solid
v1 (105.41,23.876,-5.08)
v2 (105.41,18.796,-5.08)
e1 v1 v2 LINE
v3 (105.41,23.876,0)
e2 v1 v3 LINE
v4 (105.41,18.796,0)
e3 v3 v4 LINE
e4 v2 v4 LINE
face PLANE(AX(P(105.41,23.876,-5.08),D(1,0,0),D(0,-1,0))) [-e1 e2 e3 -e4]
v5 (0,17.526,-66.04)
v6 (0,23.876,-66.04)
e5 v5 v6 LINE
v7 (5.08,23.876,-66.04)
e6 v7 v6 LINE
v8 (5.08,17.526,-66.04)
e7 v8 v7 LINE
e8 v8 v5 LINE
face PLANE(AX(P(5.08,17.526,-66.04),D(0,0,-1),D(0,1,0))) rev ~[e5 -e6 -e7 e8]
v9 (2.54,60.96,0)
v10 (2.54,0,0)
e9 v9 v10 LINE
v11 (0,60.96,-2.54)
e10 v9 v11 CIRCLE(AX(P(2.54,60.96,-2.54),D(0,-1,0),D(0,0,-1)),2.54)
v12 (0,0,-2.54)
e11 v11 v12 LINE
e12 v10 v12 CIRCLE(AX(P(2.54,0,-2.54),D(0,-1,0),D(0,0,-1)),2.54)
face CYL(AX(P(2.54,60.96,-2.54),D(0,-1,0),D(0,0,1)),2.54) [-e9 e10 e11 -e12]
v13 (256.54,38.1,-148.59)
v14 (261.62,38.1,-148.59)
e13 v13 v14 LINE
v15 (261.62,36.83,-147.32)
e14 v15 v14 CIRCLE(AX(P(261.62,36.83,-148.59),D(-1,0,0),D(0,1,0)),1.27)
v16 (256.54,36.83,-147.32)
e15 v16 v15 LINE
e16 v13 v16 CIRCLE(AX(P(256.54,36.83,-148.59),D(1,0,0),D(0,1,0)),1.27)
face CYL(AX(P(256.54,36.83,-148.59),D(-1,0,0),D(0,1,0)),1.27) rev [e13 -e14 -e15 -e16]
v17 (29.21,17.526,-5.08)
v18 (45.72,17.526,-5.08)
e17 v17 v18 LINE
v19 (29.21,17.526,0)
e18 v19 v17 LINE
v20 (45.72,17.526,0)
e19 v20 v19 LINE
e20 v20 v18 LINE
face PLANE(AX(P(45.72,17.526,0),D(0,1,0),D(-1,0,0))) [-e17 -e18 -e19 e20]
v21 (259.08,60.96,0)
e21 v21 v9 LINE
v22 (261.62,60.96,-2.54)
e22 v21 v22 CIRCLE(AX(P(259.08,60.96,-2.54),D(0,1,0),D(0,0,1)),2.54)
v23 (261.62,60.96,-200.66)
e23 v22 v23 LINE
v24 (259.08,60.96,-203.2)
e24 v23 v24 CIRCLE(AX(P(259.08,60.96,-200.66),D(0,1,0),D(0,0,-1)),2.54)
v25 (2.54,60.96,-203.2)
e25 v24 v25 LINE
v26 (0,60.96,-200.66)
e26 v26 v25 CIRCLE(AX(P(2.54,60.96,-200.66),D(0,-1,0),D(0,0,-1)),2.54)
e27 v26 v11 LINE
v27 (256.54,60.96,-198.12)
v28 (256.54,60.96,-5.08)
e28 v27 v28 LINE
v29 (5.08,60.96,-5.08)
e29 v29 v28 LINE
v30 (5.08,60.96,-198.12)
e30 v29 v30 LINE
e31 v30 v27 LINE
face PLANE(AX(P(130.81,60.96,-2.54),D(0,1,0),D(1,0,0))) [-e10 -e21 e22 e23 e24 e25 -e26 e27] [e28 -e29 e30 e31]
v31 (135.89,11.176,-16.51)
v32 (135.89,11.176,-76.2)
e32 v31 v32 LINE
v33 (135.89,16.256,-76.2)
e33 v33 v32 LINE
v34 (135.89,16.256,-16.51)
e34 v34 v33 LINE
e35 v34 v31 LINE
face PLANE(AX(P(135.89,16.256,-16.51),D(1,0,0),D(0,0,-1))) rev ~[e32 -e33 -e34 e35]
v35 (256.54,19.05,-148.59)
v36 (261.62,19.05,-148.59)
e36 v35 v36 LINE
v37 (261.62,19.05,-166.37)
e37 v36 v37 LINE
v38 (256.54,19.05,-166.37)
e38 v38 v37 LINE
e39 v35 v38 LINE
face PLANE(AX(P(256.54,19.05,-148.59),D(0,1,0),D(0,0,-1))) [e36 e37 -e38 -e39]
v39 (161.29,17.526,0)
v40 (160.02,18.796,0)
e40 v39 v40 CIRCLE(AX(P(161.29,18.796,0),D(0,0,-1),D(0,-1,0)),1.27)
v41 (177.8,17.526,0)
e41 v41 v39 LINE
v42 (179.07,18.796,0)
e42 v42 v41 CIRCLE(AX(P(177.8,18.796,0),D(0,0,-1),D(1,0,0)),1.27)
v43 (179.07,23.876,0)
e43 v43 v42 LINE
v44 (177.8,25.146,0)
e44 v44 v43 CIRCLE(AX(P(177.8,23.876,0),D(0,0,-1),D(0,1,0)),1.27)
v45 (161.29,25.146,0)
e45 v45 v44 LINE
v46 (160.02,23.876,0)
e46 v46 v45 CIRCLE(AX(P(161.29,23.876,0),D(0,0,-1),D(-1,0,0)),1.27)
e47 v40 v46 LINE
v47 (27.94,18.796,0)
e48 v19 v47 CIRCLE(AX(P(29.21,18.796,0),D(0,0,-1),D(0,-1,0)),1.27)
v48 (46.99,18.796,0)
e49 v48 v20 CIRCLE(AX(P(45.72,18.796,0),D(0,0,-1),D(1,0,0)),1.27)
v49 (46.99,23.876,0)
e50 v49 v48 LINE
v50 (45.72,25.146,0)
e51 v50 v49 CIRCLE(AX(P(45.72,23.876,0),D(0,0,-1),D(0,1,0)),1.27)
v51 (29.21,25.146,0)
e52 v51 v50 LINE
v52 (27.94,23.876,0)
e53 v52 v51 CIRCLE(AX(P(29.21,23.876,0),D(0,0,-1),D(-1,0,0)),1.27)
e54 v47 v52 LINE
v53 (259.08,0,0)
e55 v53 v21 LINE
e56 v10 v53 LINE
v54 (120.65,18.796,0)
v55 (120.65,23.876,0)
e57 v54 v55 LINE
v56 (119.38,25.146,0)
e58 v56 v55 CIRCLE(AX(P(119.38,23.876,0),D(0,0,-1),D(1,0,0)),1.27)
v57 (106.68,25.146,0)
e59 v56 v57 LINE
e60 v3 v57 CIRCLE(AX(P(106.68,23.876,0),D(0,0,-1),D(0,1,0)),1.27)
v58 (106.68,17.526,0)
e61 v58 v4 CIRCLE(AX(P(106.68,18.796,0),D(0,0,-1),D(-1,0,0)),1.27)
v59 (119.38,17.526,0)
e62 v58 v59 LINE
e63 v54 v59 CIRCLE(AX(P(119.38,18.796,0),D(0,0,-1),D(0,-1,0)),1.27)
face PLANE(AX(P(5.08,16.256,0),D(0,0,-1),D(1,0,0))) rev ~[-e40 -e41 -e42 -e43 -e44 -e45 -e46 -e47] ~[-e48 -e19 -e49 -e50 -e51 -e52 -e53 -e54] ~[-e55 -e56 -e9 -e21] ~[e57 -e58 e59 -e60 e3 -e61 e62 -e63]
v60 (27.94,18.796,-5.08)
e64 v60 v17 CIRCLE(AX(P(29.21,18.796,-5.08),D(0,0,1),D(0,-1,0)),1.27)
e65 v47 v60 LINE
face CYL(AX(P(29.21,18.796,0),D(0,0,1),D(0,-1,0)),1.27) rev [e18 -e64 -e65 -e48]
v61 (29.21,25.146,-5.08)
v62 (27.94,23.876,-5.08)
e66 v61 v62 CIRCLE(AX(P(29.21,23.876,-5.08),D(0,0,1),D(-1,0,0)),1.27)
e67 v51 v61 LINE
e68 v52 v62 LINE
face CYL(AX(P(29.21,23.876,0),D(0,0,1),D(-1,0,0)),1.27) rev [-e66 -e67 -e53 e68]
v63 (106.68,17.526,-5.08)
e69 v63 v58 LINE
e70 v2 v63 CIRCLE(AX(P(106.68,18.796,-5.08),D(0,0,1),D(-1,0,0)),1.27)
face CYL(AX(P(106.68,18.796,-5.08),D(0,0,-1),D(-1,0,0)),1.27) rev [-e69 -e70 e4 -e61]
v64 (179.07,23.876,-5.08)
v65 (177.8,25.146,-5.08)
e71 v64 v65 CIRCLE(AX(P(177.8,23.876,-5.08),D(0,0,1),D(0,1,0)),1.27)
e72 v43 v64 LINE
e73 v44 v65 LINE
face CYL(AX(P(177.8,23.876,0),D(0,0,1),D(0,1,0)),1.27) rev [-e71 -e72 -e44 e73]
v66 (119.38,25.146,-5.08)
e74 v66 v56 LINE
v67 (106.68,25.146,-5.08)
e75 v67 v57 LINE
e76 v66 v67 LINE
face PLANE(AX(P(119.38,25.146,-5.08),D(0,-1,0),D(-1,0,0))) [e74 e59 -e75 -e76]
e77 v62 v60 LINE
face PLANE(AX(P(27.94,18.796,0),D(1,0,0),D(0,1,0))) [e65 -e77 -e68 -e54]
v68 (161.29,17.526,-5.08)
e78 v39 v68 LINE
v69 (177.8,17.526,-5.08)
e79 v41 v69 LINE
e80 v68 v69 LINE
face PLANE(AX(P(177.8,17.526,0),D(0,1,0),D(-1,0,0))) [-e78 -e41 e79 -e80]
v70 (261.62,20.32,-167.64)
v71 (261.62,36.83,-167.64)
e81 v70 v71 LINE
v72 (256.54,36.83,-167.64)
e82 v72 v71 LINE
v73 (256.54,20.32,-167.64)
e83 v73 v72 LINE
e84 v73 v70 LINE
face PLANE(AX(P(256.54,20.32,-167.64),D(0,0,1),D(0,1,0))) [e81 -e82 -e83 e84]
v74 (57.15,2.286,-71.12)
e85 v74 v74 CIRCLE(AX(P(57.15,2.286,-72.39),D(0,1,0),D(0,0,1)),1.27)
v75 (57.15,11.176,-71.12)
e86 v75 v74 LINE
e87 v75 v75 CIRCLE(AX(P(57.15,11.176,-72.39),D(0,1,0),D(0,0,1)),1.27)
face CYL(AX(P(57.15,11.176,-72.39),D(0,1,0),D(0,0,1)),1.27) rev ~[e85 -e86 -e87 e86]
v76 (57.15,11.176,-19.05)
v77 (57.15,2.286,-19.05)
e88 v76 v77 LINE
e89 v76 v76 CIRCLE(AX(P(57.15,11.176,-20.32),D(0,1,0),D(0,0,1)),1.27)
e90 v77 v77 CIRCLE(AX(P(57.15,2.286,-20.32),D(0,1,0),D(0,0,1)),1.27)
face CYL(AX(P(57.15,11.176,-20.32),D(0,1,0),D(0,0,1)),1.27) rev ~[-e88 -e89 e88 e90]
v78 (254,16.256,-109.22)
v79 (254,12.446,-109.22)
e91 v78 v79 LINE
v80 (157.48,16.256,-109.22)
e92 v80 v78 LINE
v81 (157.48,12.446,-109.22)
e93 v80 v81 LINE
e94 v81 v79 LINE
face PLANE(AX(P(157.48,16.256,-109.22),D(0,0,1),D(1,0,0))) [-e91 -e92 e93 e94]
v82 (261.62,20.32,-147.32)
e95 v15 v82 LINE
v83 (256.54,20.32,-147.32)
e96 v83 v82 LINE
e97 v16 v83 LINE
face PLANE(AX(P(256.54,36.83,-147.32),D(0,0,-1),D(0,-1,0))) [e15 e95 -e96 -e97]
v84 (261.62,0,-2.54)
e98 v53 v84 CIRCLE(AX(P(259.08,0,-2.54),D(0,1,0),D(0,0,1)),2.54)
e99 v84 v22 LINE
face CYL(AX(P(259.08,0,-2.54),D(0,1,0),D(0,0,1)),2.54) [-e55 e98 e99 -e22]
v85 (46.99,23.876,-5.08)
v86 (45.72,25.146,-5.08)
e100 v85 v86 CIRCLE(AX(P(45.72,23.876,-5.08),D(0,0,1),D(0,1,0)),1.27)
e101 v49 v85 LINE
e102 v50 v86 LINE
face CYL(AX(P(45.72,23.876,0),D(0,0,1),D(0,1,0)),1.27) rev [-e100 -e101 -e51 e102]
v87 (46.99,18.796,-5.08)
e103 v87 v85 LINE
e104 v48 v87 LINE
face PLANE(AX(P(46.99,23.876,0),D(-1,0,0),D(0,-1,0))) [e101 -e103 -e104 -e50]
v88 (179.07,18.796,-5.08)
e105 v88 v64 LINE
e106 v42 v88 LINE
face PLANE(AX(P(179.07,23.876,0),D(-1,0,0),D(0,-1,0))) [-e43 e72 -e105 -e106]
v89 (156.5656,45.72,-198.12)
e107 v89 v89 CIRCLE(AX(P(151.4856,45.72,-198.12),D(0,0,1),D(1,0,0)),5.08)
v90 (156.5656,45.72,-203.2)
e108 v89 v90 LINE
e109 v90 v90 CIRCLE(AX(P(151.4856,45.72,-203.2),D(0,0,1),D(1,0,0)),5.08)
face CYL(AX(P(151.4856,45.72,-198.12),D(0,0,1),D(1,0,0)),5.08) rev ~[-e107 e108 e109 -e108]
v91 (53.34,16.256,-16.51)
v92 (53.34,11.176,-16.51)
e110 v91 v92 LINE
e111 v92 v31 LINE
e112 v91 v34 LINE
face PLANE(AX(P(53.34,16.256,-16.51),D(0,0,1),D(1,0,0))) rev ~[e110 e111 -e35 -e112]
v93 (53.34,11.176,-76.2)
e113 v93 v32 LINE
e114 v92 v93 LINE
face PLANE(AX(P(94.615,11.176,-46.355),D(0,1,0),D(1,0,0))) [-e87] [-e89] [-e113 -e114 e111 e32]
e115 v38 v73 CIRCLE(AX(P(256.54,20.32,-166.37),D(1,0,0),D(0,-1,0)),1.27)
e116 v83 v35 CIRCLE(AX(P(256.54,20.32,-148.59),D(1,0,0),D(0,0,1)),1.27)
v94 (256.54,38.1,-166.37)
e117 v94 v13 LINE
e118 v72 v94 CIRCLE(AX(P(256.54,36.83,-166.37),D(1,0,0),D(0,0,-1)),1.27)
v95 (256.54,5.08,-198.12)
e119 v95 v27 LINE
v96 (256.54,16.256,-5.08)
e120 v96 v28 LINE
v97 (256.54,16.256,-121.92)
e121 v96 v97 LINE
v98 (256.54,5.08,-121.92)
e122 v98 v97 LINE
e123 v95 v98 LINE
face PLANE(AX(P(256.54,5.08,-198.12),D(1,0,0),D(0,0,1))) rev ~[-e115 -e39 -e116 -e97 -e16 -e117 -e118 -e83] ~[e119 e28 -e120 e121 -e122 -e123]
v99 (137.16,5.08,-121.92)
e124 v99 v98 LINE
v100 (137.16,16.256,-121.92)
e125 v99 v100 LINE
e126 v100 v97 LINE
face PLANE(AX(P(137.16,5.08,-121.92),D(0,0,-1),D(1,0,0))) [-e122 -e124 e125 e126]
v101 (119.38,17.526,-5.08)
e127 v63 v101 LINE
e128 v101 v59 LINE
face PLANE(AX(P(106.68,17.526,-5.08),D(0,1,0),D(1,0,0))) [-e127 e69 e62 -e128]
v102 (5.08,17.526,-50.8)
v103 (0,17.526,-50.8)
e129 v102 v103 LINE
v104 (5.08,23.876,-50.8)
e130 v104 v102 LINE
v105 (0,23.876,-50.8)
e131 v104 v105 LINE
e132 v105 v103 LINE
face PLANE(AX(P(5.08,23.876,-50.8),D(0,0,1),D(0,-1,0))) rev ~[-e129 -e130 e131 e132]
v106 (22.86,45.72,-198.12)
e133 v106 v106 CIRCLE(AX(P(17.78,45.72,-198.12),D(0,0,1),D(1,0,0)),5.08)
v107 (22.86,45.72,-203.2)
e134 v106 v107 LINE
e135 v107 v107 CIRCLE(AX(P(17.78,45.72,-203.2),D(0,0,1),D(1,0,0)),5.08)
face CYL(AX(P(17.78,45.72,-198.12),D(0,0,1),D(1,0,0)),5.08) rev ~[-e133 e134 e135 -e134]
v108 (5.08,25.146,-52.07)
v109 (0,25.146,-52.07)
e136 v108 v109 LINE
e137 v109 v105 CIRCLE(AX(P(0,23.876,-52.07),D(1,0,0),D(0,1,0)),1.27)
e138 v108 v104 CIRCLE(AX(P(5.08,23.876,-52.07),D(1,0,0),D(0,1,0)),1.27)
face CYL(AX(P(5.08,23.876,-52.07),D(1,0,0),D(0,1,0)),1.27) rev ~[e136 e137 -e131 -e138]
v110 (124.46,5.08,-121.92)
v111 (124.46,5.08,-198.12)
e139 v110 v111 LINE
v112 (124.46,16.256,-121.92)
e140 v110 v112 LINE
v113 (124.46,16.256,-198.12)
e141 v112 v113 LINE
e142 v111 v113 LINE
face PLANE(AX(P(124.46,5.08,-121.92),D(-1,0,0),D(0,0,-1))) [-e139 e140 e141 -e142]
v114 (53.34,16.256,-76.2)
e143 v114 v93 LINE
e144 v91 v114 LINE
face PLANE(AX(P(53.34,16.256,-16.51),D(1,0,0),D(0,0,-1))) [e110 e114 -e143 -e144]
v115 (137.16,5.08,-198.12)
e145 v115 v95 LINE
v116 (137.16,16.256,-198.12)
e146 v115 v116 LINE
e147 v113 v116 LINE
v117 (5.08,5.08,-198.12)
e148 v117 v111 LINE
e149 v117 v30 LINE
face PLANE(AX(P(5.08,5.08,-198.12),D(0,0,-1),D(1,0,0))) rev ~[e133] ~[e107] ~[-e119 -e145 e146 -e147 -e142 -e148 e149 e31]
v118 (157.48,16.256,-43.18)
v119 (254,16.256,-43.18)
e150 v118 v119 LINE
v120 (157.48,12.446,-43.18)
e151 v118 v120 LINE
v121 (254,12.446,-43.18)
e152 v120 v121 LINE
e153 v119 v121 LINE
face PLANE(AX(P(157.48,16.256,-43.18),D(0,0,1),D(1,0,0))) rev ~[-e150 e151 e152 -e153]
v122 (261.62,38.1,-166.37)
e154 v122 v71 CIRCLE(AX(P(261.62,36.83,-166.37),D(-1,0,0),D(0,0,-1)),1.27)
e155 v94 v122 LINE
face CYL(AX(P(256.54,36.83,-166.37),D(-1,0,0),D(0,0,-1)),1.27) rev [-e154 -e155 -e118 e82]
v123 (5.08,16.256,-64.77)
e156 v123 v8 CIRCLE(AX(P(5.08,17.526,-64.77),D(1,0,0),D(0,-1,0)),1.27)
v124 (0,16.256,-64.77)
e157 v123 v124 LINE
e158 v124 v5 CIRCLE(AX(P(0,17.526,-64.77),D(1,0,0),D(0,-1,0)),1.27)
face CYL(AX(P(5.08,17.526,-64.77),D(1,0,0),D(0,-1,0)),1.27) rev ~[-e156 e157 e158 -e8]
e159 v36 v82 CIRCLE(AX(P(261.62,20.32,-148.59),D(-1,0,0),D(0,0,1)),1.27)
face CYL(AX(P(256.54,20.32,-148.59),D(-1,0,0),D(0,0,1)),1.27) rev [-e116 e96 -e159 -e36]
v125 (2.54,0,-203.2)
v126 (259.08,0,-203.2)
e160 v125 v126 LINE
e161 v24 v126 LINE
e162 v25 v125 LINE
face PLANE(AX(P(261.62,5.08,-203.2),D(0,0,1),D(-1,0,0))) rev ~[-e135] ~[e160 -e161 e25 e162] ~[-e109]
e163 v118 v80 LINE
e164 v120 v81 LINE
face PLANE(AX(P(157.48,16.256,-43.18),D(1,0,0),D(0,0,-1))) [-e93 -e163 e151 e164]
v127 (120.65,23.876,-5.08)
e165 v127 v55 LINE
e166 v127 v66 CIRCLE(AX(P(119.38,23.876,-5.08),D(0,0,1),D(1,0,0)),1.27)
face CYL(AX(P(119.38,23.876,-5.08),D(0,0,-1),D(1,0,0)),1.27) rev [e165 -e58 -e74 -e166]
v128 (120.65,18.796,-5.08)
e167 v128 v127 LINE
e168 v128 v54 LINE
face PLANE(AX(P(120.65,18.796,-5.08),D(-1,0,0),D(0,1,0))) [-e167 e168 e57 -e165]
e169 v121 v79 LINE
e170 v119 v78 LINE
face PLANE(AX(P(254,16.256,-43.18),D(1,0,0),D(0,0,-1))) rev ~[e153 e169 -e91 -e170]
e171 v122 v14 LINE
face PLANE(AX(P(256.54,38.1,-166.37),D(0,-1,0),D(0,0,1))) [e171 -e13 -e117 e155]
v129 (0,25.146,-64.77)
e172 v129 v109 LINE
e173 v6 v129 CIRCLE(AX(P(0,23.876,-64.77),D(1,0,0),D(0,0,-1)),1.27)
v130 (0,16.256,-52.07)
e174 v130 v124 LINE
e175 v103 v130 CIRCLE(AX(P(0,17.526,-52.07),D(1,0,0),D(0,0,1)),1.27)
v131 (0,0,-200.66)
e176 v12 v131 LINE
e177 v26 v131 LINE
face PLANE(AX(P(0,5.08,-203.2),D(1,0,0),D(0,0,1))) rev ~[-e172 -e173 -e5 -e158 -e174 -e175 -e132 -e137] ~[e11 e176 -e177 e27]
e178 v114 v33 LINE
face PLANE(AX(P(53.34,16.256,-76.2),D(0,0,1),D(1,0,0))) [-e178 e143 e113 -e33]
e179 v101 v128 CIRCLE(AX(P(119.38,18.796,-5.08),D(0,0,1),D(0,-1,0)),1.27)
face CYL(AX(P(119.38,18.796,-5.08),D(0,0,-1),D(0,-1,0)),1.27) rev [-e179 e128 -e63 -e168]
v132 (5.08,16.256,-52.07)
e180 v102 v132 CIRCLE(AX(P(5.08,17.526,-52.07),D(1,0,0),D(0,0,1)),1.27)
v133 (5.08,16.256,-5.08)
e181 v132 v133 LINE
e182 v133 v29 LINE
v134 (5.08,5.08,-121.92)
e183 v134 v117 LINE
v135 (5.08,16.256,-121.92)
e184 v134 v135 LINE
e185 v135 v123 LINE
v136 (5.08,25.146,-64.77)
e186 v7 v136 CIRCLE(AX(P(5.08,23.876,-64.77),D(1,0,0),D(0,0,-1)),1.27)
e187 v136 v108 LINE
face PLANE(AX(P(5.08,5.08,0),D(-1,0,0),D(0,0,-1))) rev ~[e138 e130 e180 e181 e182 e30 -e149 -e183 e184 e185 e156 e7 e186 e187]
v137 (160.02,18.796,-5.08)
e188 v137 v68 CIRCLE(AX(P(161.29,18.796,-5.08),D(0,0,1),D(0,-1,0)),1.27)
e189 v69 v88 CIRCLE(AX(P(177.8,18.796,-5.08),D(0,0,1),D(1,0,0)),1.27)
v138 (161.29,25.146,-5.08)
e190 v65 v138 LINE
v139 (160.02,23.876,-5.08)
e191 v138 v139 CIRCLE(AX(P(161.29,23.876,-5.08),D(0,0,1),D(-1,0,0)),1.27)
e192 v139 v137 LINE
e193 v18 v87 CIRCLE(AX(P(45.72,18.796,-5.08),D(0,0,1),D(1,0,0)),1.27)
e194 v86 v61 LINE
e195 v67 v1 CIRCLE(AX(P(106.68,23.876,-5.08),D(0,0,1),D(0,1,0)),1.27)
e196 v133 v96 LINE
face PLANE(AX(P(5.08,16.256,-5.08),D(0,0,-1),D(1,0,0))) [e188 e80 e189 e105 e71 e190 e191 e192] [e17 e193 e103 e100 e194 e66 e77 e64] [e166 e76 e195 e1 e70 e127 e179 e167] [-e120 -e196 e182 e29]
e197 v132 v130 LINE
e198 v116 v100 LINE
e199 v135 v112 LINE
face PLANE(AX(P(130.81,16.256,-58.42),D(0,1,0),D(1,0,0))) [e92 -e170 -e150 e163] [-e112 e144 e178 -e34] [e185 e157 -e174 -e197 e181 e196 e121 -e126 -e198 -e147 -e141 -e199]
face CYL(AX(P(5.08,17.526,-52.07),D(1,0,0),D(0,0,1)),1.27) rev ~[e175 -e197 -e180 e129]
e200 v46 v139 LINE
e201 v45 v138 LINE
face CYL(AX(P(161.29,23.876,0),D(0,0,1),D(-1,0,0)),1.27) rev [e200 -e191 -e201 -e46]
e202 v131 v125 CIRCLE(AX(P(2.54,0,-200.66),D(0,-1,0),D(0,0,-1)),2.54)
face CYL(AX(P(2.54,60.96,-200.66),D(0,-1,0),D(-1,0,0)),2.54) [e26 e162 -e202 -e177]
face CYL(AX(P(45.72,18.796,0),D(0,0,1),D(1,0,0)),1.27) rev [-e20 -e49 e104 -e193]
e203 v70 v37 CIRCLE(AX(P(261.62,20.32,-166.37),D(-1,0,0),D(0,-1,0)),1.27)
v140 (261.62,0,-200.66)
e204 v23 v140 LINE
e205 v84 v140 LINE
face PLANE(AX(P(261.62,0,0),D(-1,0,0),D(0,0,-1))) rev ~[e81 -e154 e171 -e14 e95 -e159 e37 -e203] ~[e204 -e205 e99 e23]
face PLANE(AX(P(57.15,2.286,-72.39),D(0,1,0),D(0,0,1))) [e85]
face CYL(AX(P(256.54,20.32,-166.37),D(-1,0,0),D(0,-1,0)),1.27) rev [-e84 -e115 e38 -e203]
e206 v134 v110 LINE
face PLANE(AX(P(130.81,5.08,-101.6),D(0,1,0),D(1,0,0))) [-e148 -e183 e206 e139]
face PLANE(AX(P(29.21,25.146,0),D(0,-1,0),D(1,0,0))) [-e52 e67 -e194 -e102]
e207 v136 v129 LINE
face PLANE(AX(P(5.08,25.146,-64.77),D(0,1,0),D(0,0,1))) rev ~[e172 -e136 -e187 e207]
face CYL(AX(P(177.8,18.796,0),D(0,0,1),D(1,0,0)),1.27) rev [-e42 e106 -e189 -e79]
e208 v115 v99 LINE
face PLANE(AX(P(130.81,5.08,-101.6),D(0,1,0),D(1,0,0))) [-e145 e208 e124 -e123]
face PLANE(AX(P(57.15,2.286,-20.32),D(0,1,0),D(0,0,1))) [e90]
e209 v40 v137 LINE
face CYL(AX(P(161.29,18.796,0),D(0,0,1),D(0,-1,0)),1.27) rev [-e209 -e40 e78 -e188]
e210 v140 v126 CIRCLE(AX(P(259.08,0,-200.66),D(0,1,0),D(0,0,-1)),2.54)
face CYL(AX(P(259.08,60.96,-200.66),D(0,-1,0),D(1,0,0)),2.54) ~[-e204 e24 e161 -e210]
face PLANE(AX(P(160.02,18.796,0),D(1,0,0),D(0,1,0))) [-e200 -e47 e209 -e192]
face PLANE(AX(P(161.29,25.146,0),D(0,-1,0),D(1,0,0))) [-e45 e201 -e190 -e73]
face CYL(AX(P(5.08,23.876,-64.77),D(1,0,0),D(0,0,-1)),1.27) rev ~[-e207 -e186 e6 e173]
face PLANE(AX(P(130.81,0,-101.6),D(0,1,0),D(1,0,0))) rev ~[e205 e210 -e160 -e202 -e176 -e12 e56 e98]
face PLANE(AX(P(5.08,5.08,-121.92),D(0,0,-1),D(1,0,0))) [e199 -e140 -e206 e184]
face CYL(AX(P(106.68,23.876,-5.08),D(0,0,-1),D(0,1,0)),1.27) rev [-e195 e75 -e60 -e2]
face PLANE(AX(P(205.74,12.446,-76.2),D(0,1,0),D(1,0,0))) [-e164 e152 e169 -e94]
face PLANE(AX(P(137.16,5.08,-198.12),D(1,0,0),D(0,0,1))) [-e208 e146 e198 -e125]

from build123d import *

# Parameters (mm, degrees)
SKETCH1_W           = 261.62
SKETCH1_H           = 203.2
BOSS_EXTRUDE1_DEPTH = 5.08
BOSS_EXTRUDE3_DEPTH = 55.88
BOSS_EXTRUDE4_DEPTH = 11.176
SKETCH7_W           = 251.46
SKETCH7_H           = 116.84
BOSS_EXTRUDE5_DEPTH = 11.176
SKETCH8_R           = 5.08
CUT_EXTRUDE2_DEPTH  = 11.176
CUT_EXTRUDE3_DEPTH  = 11.176
SKETCH10_W          = 82.55
SKETCH10_H          = 59.69
CUT_EXTRUDE4_DEPTH  = 5.08
SKETCH12_R          = 1.27
CUT_EXTRUDE5_DEPTH  = 8.89
SKETCH13_W          = 96.52
SKETCH13_H          = 66.04
CUT_EXTRUDE6_DEPTH  = 3.81
SKETCH14_W          = 251.46
SKETCH14_H          = 5.08
BOSS_EXTRUDE6_DEPTH = 44.704
CUT_EXTRUDE7_DEPTH  = 39.624
CUT_EXTRUDE8_DEPTH  = 39.624
CUT_EXTRUDE9_DEPTH  = 39.624
FILLET1_R           = 2.54


with BuildPart() as part:
    # Sketch1 → Boss-Extrude1 (new body)
    with BuildSketch(Plane(origin=(0, 0, 0), x_dir=(1, 0, 0), z_dir=(0, 1, 0))):
        with Locations((130.81, 101.6)):
            Rectangle(SKETCH1_W, SKETCH1_H)
    extrude(amount=BOSS_EXTRUDE1_DEPTH)

    # Sketch4 → Boss-Extrude3 (add)
    with BuildSketch(Plane(origin=(0, 5.08, 0), x_dir=(1, 0, 0), z_dir=(0, 1, 0))):
        Polygon((0, 0), (5.08, 0), (5.08, 198.12), (256.54, 198.12), (256.54, 0), (261.62, 0), (261.62, 203.2), (0, 203.2), align=None)
    extrude(amount=BOSS_EXTRUDE3_DEPTH)

    # Sketch5 → Boss-Extrude4 (add)
    with BuildSketch(Plane(origin=(0, 5.08, 0), x_dir=(1, 0, 0), z_dir=(0, 1, 0))):
        Polygon((5.08, 121.92), (124.46, 121.92), (124.46, 198.12), (137.16, 198.12), (137.16, 121.92), (256.54, 121.92), (256.54, 116.84), (5.08, 116.84), align=None)
    extrude(amount=BOSS_EXTRUDE4_DEPTH)

    # Sketch7 → Boss-Extrude5 (add)
    with BuildSketch(Plane(origin=(0, 5.08, 0), x_dir=(1, 0, 0), z_dir=(0, 1, 0))):
        with Locations((130.81, 58.42)):
            Rectangle(SKETCH7_W, SKETCH7_H)
    extrude(amount=BOSS_EXTRUDE5_DEPTH)

    # Sketch8 → Cut-Extrude2 (cut)
    with BuildSketch(Plane.XY.offset(-198.12)):
        with Locations((17.78, 45.72)):
            Circle(SKETCH8_R)
        with Locations((151.4856, 45.72)):
            Circle(SKETCH8_R)
    extrude(amount=-CUT_EXTRUDE2_DEPTH, mode=Mode.SUBTRACT)

    # Sketch9 → Cut-Extrude3 (cut)
    with BuildSketch(Plane(origin=(5.08, 0, 0), x_dir=(0, 0, -1), z_dir=(1, 0, 0))):
        with BuildLine():
            Line((52.07, 16.256), (64.77, 16.256))
            ThreePointArc((64.77, 16.256), (65.668025612, 16.627974388), (66.04, 17.526))
            Line((66.04, 17.526), (66.04, 23.876))
            ThreePointArc((66.04, 23.876), (65.668025612, 24.774025612), (64.77, 25.146))
            Line((64.77, 25.146), (52.07, 25.146))
            ThreePointArc((52.07, 25.146), (51.171974388, 24.774025612), (50.8, 23.876))
            Line((50.8, 23.876), (50.8, 17.526))
            ThreePointArc((50.8, 17.526), (51.171974388, 16.627974388), (52.07, 16.256))
        make_face()
    extrude(amount=-CUT_EXTRUDE3_DEPTH, mode=Mode.SUBTRACT)

    # Sketch10 → Cut-Extrude4 (cut)
    with BuildSketch(Plane(origin=(0, 16.256, 0), x_dir=(1, 0, 0), z_dir=(0, 1, 0))):
        with Locations((94.615, 46.355)):
            Rectangle(SKETCH10_W, SKETCH10_H)
    extrude(amount=-CUT_EXTRUDE4_DEPTH, mode=Mode.SUBTRACT)

    # Sketch12 → Cut-Extrude5 (cut)
    with BuildSketch(Plane(origin=(0, 11.176, 0), x_dir=(1, 0, 0), z_dir=(0, 1, 0))):
        with Locations(Location((57.15, 72.39, 0), (0, 0, 270))):
            Circle(SKETCH12_R)
        with Locations(Location((57.15, 20.32, 0), (0, 0, 270))):
            Circle(SKETCH12_R)
    extrude(amount=-CUT_EXTRUDE5_DEPTH, mode=Mode.SUBTRACT)

    # Sketch13 → Cut-Extrude6 (cut)
    with BuildSketch(Plane(origin=(0, 16.256, 0), x_dir=(1, 0, 0), z_dir=(0, 1, 0))):
        with Locations((205.74, 76.2)):
            Rectangle(SKETCH13_W, SKETCH13_H)
    extrude(amount=-CUT_EXTRUDE6_DEPTH, mode=Mode.SUBTRACT)

    # Sketch14 → Boss-Extrude6 (add)
    with BuildSketch(Plane(origin=(0, 16.256, 0), x_dir=(1, 0, 0), z_dir=(0, 1, 0))):
        with Locations((130.81, 2.54)):
            Rectangle(SKETCH14_W, SKETCH14_H)
    extrude(amount=BOSS_EXTRUDE6_DEPTH)

    # Sketch15 → Cut-Extrude7 (cut)
    with BuildSketch(Plane(origin=(0, 0, -5.08), x_dir=(-1, 0, 0), z_dir=(0, 0, -1))):
        with BuildLine():
            Line((-106.68, 17.526), (-119.38, 17.526))
            ThreePointArc((-119.38, 17.526), (-120.278025612, 17.897974388), (-120.65, 18.796))
            Line((-120.65, 18.796), (-120.65, 23.876))
            ThreePointArc((-120.65, 23.876), (-120.278025612, 24.774025612), (-119.38, 25.146))
            Line((-119.38, 25.146), (-106.68, 25.146))
            ThreePointArc((-106.68, 25.146), (-105.781974388, 24.774025612), (-105.41, 23.876))
            Line((-105.41, 23.876), (-105.41, 18.796))
            ThreePointArc((-105.41, 18.796), (-105.781974388, 17.897974388), (-106.68, 17.526))
        make_face()
    extrude(amount=-CUT_EXTRUDE7_DEPTH, mode=Mode.SUBTRACT)

    # Sketch16 → Cut-Extrude8 (cut)
    with BuildSketch(Plane.XY):
        with BuildLine():
            Line((161.29, 25.146), (177.8, 25.146))
            ThreePointArc((177.8, 25.146), (178.698025612, 24.774025612), (179.07, 23.876))
            Line((179.07, 23.876), (179.07, 18.796))
            ThreePointArc((179.07, 18.796), (178.698025612, 17.897974388), (177.8, 17.526))
            Line((177.8, 17.526), (161.29, 17.526))
            ThreePointArc((161.29, 17.526), (160.391974388, 17.897974388), (160.02, 18.796))
            Line((160.02, 18.796), (160.02, 23.876))
            ThreePointArc((160.02, 23.876), (160.391974388, 24.774025612), (161.29, 25.146))
        make_face()
        with BuildLine():
            Line((29.21, 25.146), (45.72, 25.146))
            ThreePointArc((45.72, 25.146), (46.618025612, 24.774025612), (46.99, 23.876))
            Line((46.99, 23.876), (46.99, 18.796))
            ThreePointArc((46.99, 18.796), (46.618025612, 17.897974388), (45.72, 17.526))
            Line((45.72, 17.526), (29.21, 17.526))
            ThreePointArc((29.21, 17.526), (28.311974388, 17.897974388), (27.94, 18.796))
            Line((27.94, 18.796), (27.94, 23.876))
            ThreePointArc((27.94, 23.876), (28.311974388, 24.774025612), (29.21, 25.146))
        make_face()
    extrude(amount=-CUT_EXTRUDE8_DEPTH, mode=Mode.SUBTRACT)

    # Sketch17 → Cut-Extrude9 (cut)
    with BuildSketch(Plane.ZY.offset(-256.54)):
        with BuildLine():
            Line((-166.37, 38.1), (-148.59, 38.1))
            ThreePointArc((-148.59, 38.1), (-147.691974388, 37.728025612), (-147.32, 36.83))
            Line((-147.32, 36.83), (-147.32, 20.32))
            ThreePointArc((-147.32, 20.32), (-147.691974388, 19.421974388), (-148.59, 19.05))
            Line((-148.59, 19.05), (-166.37, 19.05))
            ThreePointArc((-166.37, 19.05), (-167.268025612, 19.421974388), (-167.64, 20.32))
            Line((-167.64, 20.32), (-167.64, 36.83))
            ThreePointArc((-167.64, 36.83), (-167.268025612, 37.728025612), (-166.37, 38.1))
        make_face()
    extrude(amount=-CUT_EXTRUDE9_DEPTH, mode=Mode.SUBTRACT)

    # Fillet1
    fillet1_edges = [part.edges().sort_by_distance(p)[0] for p in [
        (0, 30.48, -203.2),
        (261.62, 30.48, -203.2),
        (261.62, 30.48, 0),
        (0, 30.48, 0),
    ]]
    fillet(fillet1_edges, radius=FILLET1_R)


solid = part.part
